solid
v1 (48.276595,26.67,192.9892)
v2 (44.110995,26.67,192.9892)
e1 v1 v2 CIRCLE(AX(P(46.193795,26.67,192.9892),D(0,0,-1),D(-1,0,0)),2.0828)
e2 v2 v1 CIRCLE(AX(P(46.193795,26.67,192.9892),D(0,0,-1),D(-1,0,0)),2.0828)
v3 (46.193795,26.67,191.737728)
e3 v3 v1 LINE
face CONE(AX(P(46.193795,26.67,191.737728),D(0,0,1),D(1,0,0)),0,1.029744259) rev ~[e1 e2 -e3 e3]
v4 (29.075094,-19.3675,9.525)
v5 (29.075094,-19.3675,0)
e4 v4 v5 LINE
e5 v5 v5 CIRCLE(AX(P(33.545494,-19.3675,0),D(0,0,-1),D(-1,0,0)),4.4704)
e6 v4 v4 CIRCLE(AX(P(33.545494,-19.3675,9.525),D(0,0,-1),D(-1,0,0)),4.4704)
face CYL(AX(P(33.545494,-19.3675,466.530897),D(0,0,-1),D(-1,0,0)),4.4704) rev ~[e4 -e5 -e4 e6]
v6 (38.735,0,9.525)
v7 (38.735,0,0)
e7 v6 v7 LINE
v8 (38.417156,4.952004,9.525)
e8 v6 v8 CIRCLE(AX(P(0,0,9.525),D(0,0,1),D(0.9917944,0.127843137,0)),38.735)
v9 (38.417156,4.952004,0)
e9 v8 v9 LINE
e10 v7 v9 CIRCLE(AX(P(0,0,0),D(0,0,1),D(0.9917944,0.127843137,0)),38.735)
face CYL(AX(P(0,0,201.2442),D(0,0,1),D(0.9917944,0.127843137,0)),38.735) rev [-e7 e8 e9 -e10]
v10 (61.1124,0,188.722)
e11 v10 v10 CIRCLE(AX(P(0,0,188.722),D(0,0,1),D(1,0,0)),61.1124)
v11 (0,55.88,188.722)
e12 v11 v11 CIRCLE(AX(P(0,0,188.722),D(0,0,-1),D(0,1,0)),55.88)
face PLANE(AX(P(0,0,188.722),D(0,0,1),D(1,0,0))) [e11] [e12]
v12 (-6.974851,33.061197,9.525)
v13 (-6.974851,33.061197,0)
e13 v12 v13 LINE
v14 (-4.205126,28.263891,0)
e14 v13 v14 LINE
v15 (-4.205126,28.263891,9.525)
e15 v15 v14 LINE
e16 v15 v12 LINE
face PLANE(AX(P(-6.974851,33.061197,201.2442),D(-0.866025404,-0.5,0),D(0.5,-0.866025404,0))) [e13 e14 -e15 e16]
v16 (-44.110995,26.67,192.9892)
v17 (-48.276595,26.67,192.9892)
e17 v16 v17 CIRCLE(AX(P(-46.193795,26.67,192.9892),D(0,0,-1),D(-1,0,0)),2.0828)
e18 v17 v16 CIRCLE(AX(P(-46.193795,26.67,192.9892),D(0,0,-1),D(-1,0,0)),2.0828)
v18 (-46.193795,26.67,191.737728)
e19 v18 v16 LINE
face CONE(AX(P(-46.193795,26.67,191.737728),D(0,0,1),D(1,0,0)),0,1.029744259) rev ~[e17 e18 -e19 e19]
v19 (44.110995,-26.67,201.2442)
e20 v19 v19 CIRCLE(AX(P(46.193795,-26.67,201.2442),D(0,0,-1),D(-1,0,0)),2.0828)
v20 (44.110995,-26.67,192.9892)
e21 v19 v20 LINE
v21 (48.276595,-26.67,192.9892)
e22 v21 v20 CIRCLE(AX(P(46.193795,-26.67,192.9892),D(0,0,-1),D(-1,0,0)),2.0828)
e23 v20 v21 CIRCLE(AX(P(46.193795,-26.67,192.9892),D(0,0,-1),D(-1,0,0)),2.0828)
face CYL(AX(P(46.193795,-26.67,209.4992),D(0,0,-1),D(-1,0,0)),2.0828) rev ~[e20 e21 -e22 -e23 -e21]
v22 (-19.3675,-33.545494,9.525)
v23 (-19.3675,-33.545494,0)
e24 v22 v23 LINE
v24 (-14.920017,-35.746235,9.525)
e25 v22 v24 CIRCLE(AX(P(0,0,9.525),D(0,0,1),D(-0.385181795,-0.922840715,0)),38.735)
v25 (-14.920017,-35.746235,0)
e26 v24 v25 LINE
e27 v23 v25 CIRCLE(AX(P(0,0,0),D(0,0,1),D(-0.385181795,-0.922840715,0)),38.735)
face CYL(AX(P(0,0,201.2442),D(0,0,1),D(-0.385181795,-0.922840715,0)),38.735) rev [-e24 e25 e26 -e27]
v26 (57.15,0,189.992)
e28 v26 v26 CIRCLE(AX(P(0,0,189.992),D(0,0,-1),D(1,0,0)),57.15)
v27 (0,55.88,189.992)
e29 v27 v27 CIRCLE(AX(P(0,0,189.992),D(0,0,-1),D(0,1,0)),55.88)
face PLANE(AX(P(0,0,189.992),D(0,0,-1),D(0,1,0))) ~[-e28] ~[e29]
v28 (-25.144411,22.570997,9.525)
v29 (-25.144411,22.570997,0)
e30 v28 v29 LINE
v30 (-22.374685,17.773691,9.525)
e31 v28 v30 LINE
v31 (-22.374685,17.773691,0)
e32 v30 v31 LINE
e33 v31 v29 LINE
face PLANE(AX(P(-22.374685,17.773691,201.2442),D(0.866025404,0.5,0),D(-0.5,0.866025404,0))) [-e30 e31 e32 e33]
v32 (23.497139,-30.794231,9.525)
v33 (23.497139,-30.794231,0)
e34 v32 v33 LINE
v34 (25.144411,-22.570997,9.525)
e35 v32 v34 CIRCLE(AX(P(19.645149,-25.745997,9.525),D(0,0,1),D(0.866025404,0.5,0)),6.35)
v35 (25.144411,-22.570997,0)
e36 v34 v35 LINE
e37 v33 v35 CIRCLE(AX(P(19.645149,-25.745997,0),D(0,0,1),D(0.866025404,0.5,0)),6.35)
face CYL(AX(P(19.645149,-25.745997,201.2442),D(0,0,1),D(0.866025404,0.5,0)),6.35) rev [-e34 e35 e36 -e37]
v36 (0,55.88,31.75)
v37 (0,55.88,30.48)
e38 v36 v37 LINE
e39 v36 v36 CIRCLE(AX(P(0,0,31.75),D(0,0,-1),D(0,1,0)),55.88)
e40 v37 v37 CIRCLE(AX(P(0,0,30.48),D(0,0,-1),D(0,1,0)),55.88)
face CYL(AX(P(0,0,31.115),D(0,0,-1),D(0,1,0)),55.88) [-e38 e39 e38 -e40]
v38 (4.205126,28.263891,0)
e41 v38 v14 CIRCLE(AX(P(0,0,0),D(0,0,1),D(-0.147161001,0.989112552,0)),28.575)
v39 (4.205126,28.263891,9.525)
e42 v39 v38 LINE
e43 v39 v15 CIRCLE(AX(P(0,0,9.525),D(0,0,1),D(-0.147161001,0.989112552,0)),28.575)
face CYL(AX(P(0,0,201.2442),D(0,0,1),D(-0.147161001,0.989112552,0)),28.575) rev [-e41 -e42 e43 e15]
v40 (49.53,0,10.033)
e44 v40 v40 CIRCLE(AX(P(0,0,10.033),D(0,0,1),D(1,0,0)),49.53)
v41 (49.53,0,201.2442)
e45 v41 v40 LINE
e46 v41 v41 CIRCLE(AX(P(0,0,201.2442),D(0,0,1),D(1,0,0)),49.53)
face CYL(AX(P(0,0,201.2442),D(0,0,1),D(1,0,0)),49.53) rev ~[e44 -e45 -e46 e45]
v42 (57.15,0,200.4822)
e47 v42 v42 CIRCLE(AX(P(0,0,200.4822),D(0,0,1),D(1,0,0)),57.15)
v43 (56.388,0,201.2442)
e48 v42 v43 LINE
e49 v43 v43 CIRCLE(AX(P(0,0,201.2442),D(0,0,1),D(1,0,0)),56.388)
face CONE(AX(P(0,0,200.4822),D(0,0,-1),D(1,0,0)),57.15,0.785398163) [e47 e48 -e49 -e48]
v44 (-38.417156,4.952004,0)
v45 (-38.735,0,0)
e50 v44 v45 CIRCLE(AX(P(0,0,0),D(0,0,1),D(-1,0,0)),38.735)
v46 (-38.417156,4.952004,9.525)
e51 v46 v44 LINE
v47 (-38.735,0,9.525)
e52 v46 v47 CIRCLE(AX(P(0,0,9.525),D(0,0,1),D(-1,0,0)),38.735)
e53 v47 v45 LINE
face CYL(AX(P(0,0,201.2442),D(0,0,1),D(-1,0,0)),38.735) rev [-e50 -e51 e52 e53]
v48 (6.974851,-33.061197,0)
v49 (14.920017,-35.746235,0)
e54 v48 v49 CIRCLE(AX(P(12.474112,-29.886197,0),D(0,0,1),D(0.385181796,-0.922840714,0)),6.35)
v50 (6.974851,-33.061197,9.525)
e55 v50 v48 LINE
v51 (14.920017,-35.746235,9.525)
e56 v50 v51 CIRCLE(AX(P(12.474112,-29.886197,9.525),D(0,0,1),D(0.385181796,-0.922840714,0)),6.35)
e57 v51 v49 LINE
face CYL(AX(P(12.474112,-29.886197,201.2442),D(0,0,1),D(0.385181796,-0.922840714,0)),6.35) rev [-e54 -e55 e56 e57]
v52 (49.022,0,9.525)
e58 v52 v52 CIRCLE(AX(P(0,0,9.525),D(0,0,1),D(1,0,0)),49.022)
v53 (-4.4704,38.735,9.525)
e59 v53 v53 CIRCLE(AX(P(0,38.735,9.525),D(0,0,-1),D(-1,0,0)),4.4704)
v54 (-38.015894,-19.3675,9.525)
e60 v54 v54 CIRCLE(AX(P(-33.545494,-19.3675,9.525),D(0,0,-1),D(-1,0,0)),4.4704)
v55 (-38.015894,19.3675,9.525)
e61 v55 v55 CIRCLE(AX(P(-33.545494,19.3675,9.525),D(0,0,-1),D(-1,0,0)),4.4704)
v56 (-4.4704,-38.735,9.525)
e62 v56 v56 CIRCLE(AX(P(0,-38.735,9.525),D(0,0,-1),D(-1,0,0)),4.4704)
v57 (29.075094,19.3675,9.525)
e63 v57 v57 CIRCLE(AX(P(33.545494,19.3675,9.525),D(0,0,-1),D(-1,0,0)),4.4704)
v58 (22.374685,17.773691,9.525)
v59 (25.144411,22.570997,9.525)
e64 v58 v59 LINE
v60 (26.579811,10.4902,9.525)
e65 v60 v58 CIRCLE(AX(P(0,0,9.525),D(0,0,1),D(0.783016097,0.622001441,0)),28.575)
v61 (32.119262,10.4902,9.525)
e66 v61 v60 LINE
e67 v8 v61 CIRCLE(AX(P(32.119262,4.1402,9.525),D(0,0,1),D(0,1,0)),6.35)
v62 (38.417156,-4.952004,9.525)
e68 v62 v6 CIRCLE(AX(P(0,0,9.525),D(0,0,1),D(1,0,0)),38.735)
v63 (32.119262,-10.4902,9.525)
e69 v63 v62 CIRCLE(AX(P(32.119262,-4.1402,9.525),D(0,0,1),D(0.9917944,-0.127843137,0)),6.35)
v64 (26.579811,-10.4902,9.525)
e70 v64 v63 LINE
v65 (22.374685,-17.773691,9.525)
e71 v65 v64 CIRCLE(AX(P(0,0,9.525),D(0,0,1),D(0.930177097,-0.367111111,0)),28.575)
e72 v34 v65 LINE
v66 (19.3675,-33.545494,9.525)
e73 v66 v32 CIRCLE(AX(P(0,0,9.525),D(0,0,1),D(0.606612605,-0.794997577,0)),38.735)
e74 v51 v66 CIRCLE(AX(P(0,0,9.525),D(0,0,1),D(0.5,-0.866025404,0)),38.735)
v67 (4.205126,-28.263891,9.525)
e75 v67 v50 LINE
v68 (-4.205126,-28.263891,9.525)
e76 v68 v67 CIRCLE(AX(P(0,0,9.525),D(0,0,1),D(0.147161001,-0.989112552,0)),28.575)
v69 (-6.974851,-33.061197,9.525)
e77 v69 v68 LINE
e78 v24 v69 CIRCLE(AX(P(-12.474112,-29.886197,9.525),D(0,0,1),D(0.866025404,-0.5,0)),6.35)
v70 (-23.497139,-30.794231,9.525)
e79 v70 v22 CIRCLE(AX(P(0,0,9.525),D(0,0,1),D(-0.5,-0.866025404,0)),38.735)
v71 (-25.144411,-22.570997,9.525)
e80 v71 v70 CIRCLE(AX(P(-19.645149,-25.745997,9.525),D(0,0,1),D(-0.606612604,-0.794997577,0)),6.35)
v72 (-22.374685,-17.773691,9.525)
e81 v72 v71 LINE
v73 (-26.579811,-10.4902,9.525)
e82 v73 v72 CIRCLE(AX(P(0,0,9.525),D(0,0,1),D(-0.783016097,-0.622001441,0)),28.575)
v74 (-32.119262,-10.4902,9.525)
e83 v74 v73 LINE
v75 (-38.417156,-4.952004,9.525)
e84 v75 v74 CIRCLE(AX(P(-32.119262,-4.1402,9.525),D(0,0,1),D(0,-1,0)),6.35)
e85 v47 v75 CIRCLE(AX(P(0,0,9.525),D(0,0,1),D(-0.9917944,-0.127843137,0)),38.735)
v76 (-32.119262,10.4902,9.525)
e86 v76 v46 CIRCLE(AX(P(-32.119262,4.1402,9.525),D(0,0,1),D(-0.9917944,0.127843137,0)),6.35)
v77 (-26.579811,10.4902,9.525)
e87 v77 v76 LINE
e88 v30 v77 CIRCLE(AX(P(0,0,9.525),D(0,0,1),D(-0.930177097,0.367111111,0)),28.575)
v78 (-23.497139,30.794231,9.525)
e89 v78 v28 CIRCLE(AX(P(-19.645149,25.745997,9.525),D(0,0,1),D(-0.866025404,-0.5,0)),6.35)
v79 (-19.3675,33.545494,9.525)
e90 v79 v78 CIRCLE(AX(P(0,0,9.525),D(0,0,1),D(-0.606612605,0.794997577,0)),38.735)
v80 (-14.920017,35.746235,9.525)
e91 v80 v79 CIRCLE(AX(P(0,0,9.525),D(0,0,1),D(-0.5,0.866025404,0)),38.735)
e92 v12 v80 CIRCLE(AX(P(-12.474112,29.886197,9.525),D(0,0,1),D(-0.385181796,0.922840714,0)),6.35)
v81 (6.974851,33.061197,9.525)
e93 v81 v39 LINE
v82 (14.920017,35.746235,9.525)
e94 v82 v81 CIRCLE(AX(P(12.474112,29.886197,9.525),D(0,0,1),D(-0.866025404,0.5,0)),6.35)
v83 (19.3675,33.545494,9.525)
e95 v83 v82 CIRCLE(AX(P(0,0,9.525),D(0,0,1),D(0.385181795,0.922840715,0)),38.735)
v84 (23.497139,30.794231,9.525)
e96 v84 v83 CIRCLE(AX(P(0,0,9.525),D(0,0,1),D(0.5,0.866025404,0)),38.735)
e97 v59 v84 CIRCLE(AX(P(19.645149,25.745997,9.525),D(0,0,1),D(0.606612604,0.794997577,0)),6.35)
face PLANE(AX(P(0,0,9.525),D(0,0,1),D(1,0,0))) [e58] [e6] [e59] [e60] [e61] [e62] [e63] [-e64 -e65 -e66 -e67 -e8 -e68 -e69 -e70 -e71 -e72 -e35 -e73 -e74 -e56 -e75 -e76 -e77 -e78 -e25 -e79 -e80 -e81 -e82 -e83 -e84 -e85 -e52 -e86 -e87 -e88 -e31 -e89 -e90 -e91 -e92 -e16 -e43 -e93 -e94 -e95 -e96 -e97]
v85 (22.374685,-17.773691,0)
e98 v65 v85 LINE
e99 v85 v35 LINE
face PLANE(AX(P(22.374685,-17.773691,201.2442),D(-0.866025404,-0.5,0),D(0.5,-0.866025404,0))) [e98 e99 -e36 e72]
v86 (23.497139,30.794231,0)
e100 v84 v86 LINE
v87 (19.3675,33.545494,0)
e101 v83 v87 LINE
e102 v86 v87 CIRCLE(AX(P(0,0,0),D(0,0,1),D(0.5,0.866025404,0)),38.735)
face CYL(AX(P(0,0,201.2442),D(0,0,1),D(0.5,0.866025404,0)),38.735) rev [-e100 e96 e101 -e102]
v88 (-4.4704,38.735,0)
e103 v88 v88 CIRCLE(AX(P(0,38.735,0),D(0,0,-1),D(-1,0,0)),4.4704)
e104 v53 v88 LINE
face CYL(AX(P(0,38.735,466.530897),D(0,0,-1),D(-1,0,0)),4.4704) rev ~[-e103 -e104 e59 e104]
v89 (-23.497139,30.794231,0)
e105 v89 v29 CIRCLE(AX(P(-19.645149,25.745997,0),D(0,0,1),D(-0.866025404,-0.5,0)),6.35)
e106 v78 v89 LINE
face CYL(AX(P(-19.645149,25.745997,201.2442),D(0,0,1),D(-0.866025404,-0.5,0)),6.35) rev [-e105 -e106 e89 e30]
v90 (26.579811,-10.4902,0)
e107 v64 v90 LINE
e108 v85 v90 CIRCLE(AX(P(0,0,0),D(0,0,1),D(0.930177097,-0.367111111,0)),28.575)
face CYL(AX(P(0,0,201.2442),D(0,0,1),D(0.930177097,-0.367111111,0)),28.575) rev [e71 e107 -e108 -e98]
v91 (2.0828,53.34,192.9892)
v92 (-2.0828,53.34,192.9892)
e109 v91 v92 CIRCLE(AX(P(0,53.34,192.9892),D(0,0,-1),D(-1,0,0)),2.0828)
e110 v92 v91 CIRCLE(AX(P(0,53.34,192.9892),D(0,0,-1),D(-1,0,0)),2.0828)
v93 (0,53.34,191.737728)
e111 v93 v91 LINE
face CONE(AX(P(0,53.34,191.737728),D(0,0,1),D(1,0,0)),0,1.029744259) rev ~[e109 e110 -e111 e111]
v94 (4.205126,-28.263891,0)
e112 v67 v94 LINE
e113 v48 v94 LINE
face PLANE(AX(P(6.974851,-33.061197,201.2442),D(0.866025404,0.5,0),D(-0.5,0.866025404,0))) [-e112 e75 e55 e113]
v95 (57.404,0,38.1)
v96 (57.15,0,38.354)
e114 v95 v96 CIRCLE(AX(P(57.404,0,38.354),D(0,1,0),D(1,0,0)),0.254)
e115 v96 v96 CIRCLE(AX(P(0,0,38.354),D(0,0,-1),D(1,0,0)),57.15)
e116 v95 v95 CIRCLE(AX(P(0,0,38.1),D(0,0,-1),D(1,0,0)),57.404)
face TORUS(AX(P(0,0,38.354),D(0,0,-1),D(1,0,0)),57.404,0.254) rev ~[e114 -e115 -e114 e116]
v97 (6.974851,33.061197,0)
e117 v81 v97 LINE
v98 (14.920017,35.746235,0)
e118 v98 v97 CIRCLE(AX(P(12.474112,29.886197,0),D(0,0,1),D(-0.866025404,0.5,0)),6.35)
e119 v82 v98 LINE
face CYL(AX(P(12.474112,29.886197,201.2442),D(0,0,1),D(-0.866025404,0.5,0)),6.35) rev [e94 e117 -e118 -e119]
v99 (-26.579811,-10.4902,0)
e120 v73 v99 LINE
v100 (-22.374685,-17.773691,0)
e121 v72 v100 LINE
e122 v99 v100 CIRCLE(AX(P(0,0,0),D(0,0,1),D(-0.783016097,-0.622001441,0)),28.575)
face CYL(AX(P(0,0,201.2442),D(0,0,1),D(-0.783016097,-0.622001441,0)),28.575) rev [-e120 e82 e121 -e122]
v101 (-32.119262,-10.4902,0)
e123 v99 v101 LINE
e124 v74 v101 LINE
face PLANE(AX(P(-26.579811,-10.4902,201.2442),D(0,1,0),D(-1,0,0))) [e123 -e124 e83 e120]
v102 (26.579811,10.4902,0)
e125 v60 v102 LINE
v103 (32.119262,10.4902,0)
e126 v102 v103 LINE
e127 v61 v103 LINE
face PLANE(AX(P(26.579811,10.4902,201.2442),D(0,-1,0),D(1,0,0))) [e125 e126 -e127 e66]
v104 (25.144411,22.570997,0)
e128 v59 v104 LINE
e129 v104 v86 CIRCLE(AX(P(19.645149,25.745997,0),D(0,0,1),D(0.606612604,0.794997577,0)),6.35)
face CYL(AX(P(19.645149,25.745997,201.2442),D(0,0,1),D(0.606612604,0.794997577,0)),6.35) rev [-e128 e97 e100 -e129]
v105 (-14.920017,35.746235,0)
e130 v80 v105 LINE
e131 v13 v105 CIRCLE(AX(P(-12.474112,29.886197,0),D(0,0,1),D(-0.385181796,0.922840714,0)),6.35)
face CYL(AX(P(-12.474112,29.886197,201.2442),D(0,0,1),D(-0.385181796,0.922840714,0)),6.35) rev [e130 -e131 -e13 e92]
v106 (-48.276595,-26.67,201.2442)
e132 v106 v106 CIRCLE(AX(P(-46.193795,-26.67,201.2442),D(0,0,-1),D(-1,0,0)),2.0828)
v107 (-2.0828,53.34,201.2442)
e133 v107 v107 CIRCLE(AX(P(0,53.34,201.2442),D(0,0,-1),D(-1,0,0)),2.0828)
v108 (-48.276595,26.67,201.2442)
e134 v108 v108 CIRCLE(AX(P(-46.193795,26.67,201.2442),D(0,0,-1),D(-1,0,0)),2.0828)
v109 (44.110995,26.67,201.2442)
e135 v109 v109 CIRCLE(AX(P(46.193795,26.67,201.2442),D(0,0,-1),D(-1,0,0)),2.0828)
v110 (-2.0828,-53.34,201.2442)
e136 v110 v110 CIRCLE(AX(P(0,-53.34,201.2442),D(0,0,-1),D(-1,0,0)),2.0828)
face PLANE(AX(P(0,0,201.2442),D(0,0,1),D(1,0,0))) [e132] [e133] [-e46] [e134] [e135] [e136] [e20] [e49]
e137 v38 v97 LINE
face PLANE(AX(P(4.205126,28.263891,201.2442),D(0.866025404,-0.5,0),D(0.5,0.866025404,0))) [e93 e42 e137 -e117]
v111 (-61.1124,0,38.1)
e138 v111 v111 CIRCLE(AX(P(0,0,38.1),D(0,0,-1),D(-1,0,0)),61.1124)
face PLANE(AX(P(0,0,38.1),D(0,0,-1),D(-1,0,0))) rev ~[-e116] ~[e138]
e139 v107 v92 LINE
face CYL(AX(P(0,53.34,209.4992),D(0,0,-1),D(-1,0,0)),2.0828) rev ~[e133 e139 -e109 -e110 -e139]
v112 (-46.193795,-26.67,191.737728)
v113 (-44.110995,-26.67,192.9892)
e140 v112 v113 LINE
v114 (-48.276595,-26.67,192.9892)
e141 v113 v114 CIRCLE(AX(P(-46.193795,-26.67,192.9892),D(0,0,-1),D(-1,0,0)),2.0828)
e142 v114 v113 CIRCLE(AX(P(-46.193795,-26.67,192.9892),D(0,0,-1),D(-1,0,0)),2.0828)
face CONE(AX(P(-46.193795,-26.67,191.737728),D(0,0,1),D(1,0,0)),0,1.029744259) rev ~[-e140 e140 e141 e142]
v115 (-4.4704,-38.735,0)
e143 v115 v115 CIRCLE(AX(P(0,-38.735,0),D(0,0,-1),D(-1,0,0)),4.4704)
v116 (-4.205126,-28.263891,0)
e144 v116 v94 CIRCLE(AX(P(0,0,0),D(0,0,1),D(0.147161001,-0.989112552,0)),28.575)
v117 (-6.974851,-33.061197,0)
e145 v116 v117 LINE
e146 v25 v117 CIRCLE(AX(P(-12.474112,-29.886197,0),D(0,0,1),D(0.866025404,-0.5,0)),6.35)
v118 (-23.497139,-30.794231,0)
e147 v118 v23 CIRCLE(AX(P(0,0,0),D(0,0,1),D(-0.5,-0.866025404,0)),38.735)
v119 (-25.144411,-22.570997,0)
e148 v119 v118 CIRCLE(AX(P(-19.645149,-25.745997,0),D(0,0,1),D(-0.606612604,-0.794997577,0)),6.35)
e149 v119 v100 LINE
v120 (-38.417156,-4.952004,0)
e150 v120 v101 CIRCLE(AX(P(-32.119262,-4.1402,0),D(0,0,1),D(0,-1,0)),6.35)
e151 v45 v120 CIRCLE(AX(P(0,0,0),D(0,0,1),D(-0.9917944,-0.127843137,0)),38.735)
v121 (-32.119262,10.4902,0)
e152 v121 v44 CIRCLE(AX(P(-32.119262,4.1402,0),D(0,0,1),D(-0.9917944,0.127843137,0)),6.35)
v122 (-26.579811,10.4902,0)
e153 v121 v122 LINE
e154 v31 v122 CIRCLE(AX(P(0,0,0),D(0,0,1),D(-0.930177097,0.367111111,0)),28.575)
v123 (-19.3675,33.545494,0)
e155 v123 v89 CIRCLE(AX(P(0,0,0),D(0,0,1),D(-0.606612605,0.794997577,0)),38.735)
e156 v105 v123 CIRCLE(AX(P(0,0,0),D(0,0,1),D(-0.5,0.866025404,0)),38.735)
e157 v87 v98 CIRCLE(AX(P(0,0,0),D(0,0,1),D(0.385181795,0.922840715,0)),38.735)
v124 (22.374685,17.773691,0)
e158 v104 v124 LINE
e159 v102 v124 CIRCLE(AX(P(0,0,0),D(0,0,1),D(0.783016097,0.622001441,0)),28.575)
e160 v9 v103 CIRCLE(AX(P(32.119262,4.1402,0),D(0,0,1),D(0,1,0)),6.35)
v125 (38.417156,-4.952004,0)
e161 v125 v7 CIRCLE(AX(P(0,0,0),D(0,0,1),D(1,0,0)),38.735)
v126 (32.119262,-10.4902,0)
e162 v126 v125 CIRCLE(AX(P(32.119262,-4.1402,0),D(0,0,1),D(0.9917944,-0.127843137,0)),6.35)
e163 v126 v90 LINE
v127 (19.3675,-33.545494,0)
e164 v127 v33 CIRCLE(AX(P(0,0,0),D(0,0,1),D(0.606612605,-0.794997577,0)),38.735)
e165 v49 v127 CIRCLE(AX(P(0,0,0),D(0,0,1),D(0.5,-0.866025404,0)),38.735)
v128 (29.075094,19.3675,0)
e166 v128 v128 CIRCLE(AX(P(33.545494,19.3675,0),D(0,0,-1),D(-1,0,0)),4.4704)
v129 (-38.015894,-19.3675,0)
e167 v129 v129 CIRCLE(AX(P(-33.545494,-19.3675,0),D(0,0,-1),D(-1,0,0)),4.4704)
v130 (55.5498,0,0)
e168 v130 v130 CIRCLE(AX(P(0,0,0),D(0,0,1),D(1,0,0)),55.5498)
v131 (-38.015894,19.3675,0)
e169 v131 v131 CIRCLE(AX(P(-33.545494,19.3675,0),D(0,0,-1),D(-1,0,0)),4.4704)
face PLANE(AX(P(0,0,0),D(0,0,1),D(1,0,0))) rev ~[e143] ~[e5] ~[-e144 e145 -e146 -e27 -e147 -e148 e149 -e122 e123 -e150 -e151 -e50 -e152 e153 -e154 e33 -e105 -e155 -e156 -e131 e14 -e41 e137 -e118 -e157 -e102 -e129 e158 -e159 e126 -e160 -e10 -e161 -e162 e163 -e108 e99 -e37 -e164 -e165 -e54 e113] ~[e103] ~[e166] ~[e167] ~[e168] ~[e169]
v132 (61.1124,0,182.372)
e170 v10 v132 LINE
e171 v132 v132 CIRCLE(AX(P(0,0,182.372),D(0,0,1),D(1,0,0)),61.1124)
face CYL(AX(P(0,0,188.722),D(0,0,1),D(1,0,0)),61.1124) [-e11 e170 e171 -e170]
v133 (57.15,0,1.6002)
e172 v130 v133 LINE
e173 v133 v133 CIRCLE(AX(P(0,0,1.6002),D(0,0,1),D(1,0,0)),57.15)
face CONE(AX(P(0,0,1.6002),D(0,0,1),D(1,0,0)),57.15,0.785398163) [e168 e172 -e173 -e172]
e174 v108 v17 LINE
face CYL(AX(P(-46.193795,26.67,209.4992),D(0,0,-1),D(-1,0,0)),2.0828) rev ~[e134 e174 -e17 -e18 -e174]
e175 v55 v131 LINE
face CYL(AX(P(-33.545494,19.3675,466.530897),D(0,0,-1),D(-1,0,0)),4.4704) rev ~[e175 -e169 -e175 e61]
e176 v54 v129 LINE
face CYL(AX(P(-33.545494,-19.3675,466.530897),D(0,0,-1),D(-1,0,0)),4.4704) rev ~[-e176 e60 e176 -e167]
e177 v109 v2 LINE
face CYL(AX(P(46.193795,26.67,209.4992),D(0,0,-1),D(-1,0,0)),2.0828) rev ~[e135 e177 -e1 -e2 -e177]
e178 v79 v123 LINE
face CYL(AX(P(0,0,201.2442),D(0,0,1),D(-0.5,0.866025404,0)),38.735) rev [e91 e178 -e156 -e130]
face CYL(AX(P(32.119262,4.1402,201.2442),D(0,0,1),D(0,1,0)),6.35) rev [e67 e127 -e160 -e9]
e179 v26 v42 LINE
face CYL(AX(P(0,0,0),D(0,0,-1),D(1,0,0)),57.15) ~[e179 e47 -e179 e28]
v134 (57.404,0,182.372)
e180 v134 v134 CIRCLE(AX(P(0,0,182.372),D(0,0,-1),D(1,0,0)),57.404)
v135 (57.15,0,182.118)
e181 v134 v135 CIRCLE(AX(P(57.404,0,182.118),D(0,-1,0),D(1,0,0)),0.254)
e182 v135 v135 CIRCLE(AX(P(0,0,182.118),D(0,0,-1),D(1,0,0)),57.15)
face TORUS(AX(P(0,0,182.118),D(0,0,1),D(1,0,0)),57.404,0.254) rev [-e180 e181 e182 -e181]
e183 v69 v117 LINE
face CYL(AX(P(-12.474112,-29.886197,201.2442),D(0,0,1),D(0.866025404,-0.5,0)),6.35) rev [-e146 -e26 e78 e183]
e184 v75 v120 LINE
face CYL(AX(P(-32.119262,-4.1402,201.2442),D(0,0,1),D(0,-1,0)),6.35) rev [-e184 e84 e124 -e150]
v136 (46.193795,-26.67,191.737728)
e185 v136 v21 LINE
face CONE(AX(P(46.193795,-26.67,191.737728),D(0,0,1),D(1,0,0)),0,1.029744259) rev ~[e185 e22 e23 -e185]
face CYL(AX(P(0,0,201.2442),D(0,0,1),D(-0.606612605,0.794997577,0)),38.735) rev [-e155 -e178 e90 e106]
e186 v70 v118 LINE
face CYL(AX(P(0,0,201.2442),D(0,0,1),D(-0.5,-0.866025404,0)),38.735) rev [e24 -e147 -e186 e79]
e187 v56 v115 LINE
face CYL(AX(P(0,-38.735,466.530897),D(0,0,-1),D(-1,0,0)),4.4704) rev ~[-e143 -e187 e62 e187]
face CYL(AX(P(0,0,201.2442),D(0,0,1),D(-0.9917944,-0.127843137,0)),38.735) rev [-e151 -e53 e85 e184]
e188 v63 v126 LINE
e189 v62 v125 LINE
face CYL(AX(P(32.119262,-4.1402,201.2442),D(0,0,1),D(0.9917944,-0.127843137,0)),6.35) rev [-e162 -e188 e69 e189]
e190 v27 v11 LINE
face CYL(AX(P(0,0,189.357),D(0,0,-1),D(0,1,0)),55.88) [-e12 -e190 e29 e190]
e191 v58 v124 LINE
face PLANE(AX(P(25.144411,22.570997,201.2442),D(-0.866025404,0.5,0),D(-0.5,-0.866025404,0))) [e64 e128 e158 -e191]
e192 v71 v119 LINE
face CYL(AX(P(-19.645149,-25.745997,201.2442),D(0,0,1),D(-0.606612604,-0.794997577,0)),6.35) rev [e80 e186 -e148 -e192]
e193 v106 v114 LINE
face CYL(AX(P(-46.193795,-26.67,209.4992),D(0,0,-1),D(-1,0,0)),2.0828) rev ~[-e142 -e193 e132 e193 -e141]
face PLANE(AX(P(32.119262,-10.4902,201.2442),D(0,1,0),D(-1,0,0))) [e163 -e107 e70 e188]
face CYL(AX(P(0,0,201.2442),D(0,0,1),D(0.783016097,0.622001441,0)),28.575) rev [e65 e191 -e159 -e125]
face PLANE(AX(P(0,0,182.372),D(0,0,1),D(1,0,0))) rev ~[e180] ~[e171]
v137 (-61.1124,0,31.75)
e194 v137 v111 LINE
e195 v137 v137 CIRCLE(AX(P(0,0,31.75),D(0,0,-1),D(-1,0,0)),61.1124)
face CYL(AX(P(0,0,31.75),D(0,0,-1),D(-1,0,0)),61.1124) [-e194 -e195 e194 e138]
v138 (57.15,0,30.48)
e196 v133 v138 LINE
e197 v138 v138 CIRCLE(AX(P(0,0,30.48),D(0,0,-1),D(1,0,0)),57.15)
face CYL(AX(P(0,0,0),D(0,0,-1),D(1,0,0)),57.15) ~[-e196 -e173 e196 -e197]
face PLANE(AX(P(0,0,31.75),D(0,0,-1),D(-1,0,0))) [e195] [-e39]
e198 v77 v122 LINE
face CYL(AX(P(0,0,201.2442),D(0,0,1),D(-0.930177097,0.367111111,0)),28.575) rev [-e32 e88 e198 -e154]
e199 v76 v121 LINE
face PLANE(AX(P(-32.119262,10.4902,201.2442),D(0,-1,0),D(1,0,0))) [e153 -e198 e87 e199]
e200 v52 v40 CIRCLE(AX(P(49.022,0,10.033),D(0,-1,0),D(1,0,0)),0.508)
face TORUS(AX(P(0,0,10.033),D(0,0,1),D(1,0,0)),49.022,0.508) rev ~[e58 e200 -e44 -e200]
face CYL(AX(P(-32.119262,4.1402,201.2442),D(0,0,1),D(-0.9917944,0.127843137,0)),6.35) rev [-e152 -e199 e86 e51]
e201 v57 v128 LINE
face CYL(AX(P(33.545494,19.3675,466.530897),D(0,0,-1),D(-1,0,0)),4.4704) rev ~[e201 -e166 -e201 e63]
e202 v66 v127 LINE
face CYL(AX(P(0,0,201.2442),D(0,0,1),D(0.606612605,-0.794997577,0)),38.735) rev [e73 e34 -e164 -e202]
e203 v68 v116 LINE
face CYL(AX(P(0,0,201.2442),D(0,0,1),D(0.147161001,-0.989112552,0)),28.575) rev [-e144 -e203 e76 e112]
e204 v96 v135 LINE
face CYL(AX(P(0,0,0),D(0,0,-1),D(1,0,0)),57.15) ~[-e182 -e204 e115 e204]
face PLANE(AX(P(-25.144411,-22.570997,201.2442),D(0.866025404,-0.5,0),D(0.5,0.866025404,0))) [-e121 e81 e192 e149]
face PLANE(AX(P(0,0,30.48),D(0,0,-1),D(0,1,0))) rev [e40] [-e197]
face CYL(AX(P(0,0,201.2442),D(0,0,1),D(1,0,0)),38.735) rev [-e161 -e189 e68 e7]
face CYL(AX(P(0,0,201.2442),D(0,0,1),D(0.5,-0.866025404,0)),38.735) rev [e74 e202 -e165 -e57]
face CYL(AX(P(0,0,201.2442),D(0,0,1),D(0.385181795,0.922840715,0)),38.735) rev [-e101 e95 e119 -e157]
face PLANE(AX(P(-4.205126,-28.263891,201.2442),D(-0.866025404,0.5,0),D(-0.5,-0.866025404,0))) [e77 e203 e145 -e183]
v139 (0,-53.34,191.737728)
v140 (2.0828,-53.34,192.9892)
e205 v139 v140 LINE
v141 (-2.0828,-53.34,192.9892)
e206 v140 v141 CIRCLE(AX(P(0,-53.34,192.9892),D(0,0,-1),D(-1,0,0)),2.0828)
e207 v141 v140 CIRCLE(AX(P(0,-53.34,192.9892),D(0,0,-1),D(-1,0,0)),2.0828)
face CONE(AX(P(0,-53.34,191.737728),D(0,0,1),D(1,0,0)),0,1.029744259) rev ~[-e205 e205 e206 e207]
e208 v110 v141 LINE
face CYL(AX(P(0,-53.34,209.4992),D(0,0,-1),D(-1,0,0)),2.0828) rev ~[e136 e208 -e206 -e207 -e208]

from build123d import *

# Parameters (mm, degrees)
SKETCH1_R                       = 57.15
BOSS_EXTRUDE1_DEPTH             = 201.2442
SKETCH3_W                       = 1.27
SKETCH3_H                       = 1.27
SKETCH9_R                       = 61.1124
BOSS_EXTRUDE4_DEPTH             = 6.35
SKETCH10_R                      = 61.1124
BOSS_EXTRUDE5_DEPTH             = 6.35
F_97_0_164_DIAMETER_HOLE1_D     = 4.1656
F_97_0_164_DIAMETER_HOLE1_DEPTH = 8.255
F_97_0_164_DIAMETER_HOLE1_TIP   = 1.251472497
F_97_0_352_DIAMETER_HOLE1_D     = 8.9408
CUT_EXTRUDE3_DEPTH              = 202.2442
SKETCH20_R                      = 49.53
CUT_EXTRUDE4_DEPTH              = 191.7192
FILLET4_R                       = 0.508
FILLET5_R                       = 0.254
CHAMFER1_SIZE                   = 0.762
CHAMFER2_SIZE                   = 1.6002


with BuildPart() as part:
    # Sketch1 → Boss-Extrude1 (new body)
    with BuildSketch(Plane.XY):
        Circle(SKETCH1_R)
    extrude(amount=BOSS_EXTRUDE1_DEPTH)

    # Sketch3 → Cut-Revolve2 (revolve, cut)
    with BuildSketch(Plane(origin=(0, 0, 0), x_dir=(0, 0, -1), z_dir=(1, 0, 0))):
        with Locations((-31.115, 56.515)):
            Rectangle(SKETCH3_W, SKETCH3_H)
        with Locations((-189.357, 56.515)):
            Rectangle(SKETCH3_W, SKETCH3_H)
    revolve(axis=Axis((0, 0, 212.826037786), (0, 0, -1)), mode=Mode.SUBTRACT)

    # Sketch9 → Boss-Extrude4 (add)
    with BuildSketch(Plane.XY.offset(188.722)):
        Circle(SKETCH9_R)
    extrude(amount=-BOSS_EXTRUDE4_DEPTH)

    # Sketch10 → Boss-Extrude5 (add)
    with BuildSketch(Plane(origin=(0, 0, 31.75), x_dir=(-1, 0, 0), z_dir=(0, 0, -1))):
        Circle(SKETCH10_R)
    extrude(amount=-BOSS_EXTRUDE5_DEPTH)

    # #97 (0.164) Diameter Hole1
    with Locations(Plane.XY.offset(201.2442)):
        with Locations((0, 53.34), (46.193795038, 26.67), (46.193795038, -26.67), (0, -53.34), (-46.193795038, -26.67), (-46.193795038, 26.67)):
            Hole(F_97_0_164_DIAMETER_HOLE1_D / 2, depth=F_97_0_164_DIAMETER_HOLE1_DEPTH)
            with Locations((0, 0, -(F_97_0_164_DIAMETER_HOLE1_DEPTH + F_97_0_164_DIAMETER_HOLE1_TIP / 2))):  # 118° drill point
                Cone(0, F_97_0_164_DIAMETER_HOLE1_D / 2, F_97_0_164_DIAMETER_HOLE1_TIP, mode=Mode.SUBTRACT)

    # #97 (0.352) Diameter Hole1 (through all)
    with Locations(Plane.XY.offset(201.2442)):
        with Locations((0, 38.735), (33.545494016, 19.3675), (33.545494016, -19.3675), (0, -38.735), (-33.545494016, -19.3675), (-33.545494016, 19.3675)):
            Hole(F_97_0_352_DIAMETER_HOLE1_D / 2)

    # Sketch18 → Cut-Extrude3 (cut, through all)
    with BuildSketch(Plane.XY.offset(201.2442)):
        with BuildLine():
            Line((26.579810552, 10.4902), (32.11926165, 10.4902))
            ThreePointArc((32.11926165, 10.4902), (36.312562564, 8.908714176), (38.417156092, 4.952003922))
            ThreePointArc((38.417156092, 4.952003922), (38.655457352, 2.481096914), (38.735, 0))
            ThreePointArc((38.735, 0), (38.655457352, -2.481096914), (38.417156092, -4.952003922))
            ThreePointArc((38.417156092, -4.952003922), (36.312562564, -8.908714176), (32.11926165, -10.4902))
            Line((32.11926165, -10.4902), (26.579810552, -10.4902))
            ThreePointArc((26.579810552, -10.4902), (24.746675913, -14.2875), (22.374684967, -17.773691165))
            Line((22.374684967, -17.773691165), (25.144410516, -22.57099654))
            ThreePointArc((25.144410516, -22.57099654), (25.871454074, -26.993244568), (23.497139241, -30.794231156))
            ThreePointArc((23.497139241, -30.794231156), (21.476421633, -32.236059605), (19.3675, -33.545494016))
            ThreePointArc((19.3675, -33.545494016), (17.179035719, -34.717156519), (14.92001685, -35.746235077))
            ThreePointArc((14.92001685, -35.746235077), (10.44110849, -35.901958745), (6.974851134, -33.06119654))
            Line((6.974851134, -33.06119654), (4.205125585, -28.263891165))
            ThreePointArc((4.205125585, -28.263891165), (0, -28.575), (-4.205125585, -28.263891165))
            Line((-4.205125585, -28.263891165), (-6.974851134, -33.06119654))
            ThreePointArc((-6.974851134, -33.06119654), (-10.44110849, -35.901958745), (-14.92001685, -35.746235077))
            ThreePointArc((-14.92001685, -35.746235077), (-17.179035719, -34.717156519), (-19.3675, -33.545494016))
            ThreePointArc((-19.3675, -33.545494016), (-21.476421633, -32.236059605), (-23.497139241, -30.794231156))
            ThreePointArc((-23.497139241, -30.794231156), (-25.871454074, -26.993244568), (-25.144410516, -22.57099654))
            Line((-25.144410516, -22.57099654), (-22.374684967, -17.773691165))
            ThreePointArc((-22.374684967, -17.773691165), (-24.746675913, -14.2875), (-26.579810552, -10.4902))
            Line((-26.579810552, -10.4902), (-32.11926165, -10.4902))
            ThreePointArc((-32.11926165, -10.4902), (-36.312562564, -8.908714176), (-38.417156092, -4.952003922))
            ThreePointArc((-38.417156092, -4.952003922), (-38.655457352, -2.481096914), (-38.735, 0))
            ThreePointArc((-38.735, 0), (-38.655457352, 2.481096914), (-38.417156092, 4.952003922))
            ThreePointArc((-38.417156092, 4.952003922), (-36.312562564, 8.908714176), (-32.11926165, 10.4902))
            Line((-32.11926165, 10.4902), (-26.579810552, 10.4902))
            ThreePointArc((-26.579810552, 10.4902), (-24.746675913, 14.2875), (-22.374684967, 17.773691165))
            Line((-22.374684967, 17.773691165), (-25.144410516, 22.57099654))
            ThreePointArc((-25.144410516, 22.57099654), (-25.871454074, 26.993244568), (-23.497139241, 30.794231156))
            ThreePointArc((-23.497139241, 30.794231156), (-21.476421633, 32.236059605), (-19.3675, 33.545494016))
            ThreePointArc((-19.3675, 33.545494016), (-17.179035719, 34.717156519), (-14.92001685, 35.746235077))
            ThreePointArc((-14.92001685, 35.746235077), (-10.44110849, 35.901958745), (-6.974851134, 33.06119654))
            Line((-6.974851134, 33.06119654), (-4.205125585, 28.263891165))
            ThreePointArc((-4.205125585, 28.263891165), (0, 28.575), (4.205125585, 28.263891165))
            Line((4.205125585, 28.263891165), (6.974851134, 33.06119654))
            ThreePointArc((6.974851134, 33.06119654), (10.44110849, 35.901958745), (14.92001685, 35.746235077))
            ThreePointArc((14.92001685, 35.746235077), (17.179035719, 34.717156519), (19.3675, 33.545494016))
            ThreePointArc((19.3675, 33.545494016), (21.476421633, 32.236059605), (23.497139241, 30.794231156))
            ThreePointArc((23.497139241, 30.794231156), (25.871454074, 26.993244568), (25.144410516, 22.57099654))
            Line((25.144410516, 22.57099654), (22.374684967, 17.773691165))
            ThreePointArc((22.374684967, 17.773691165), (24.746675913, 14.2875), (26.579810552, 10.4902))
        make_face()
    extrude(amount=-CUT_EXTRUDE3_DEPTH, mode=Mode.SUBTRACT)

    # Sketch20 → Cut-Extrude4 (cut)
    with BuildSketch(Plane.XY.offset(201.2442)):
        Circle(SKETCH20_R)
    extrude(amount=-CUT_EXTRUDE4_DEPTH, mode=Mode.SUBTRACT)

    # Fillet4
    fillet4_edges = [part.edges().sort_by_distance(p)[0] for p in [
        (-49.53, 0, 9.525),
    ]]
    fillet(fillet4_edges, radius=FILLET4_R)

    # Fillet5
    fillet5_edges = [part.edges().sort_by_distance(p)[0] for p in [
        (-57.15, 0, 182.372),
        (-57.15, 0, 38.1),
    ]]
    fillet(fillet5_edges, radius=FILLET5_R)

    # Chamfer1
    chamfer1_edges = [part.edges().sort_by_distance(p)[0] for p in [
        (-57.15, 0, 201.2442),
    ]]
    chamfer(chamfer1_edges, length=CHAMFER1_SIZE)

    # Chamfer2
    chamfer2_edges = [part.edges().sort_by_distance(p)[0] for p in [
        (-57.15, 0, 0),
    ]]
    chamfer(chamfer2_edges, length=CHAMFER2_SIZE)


solid = part.part
